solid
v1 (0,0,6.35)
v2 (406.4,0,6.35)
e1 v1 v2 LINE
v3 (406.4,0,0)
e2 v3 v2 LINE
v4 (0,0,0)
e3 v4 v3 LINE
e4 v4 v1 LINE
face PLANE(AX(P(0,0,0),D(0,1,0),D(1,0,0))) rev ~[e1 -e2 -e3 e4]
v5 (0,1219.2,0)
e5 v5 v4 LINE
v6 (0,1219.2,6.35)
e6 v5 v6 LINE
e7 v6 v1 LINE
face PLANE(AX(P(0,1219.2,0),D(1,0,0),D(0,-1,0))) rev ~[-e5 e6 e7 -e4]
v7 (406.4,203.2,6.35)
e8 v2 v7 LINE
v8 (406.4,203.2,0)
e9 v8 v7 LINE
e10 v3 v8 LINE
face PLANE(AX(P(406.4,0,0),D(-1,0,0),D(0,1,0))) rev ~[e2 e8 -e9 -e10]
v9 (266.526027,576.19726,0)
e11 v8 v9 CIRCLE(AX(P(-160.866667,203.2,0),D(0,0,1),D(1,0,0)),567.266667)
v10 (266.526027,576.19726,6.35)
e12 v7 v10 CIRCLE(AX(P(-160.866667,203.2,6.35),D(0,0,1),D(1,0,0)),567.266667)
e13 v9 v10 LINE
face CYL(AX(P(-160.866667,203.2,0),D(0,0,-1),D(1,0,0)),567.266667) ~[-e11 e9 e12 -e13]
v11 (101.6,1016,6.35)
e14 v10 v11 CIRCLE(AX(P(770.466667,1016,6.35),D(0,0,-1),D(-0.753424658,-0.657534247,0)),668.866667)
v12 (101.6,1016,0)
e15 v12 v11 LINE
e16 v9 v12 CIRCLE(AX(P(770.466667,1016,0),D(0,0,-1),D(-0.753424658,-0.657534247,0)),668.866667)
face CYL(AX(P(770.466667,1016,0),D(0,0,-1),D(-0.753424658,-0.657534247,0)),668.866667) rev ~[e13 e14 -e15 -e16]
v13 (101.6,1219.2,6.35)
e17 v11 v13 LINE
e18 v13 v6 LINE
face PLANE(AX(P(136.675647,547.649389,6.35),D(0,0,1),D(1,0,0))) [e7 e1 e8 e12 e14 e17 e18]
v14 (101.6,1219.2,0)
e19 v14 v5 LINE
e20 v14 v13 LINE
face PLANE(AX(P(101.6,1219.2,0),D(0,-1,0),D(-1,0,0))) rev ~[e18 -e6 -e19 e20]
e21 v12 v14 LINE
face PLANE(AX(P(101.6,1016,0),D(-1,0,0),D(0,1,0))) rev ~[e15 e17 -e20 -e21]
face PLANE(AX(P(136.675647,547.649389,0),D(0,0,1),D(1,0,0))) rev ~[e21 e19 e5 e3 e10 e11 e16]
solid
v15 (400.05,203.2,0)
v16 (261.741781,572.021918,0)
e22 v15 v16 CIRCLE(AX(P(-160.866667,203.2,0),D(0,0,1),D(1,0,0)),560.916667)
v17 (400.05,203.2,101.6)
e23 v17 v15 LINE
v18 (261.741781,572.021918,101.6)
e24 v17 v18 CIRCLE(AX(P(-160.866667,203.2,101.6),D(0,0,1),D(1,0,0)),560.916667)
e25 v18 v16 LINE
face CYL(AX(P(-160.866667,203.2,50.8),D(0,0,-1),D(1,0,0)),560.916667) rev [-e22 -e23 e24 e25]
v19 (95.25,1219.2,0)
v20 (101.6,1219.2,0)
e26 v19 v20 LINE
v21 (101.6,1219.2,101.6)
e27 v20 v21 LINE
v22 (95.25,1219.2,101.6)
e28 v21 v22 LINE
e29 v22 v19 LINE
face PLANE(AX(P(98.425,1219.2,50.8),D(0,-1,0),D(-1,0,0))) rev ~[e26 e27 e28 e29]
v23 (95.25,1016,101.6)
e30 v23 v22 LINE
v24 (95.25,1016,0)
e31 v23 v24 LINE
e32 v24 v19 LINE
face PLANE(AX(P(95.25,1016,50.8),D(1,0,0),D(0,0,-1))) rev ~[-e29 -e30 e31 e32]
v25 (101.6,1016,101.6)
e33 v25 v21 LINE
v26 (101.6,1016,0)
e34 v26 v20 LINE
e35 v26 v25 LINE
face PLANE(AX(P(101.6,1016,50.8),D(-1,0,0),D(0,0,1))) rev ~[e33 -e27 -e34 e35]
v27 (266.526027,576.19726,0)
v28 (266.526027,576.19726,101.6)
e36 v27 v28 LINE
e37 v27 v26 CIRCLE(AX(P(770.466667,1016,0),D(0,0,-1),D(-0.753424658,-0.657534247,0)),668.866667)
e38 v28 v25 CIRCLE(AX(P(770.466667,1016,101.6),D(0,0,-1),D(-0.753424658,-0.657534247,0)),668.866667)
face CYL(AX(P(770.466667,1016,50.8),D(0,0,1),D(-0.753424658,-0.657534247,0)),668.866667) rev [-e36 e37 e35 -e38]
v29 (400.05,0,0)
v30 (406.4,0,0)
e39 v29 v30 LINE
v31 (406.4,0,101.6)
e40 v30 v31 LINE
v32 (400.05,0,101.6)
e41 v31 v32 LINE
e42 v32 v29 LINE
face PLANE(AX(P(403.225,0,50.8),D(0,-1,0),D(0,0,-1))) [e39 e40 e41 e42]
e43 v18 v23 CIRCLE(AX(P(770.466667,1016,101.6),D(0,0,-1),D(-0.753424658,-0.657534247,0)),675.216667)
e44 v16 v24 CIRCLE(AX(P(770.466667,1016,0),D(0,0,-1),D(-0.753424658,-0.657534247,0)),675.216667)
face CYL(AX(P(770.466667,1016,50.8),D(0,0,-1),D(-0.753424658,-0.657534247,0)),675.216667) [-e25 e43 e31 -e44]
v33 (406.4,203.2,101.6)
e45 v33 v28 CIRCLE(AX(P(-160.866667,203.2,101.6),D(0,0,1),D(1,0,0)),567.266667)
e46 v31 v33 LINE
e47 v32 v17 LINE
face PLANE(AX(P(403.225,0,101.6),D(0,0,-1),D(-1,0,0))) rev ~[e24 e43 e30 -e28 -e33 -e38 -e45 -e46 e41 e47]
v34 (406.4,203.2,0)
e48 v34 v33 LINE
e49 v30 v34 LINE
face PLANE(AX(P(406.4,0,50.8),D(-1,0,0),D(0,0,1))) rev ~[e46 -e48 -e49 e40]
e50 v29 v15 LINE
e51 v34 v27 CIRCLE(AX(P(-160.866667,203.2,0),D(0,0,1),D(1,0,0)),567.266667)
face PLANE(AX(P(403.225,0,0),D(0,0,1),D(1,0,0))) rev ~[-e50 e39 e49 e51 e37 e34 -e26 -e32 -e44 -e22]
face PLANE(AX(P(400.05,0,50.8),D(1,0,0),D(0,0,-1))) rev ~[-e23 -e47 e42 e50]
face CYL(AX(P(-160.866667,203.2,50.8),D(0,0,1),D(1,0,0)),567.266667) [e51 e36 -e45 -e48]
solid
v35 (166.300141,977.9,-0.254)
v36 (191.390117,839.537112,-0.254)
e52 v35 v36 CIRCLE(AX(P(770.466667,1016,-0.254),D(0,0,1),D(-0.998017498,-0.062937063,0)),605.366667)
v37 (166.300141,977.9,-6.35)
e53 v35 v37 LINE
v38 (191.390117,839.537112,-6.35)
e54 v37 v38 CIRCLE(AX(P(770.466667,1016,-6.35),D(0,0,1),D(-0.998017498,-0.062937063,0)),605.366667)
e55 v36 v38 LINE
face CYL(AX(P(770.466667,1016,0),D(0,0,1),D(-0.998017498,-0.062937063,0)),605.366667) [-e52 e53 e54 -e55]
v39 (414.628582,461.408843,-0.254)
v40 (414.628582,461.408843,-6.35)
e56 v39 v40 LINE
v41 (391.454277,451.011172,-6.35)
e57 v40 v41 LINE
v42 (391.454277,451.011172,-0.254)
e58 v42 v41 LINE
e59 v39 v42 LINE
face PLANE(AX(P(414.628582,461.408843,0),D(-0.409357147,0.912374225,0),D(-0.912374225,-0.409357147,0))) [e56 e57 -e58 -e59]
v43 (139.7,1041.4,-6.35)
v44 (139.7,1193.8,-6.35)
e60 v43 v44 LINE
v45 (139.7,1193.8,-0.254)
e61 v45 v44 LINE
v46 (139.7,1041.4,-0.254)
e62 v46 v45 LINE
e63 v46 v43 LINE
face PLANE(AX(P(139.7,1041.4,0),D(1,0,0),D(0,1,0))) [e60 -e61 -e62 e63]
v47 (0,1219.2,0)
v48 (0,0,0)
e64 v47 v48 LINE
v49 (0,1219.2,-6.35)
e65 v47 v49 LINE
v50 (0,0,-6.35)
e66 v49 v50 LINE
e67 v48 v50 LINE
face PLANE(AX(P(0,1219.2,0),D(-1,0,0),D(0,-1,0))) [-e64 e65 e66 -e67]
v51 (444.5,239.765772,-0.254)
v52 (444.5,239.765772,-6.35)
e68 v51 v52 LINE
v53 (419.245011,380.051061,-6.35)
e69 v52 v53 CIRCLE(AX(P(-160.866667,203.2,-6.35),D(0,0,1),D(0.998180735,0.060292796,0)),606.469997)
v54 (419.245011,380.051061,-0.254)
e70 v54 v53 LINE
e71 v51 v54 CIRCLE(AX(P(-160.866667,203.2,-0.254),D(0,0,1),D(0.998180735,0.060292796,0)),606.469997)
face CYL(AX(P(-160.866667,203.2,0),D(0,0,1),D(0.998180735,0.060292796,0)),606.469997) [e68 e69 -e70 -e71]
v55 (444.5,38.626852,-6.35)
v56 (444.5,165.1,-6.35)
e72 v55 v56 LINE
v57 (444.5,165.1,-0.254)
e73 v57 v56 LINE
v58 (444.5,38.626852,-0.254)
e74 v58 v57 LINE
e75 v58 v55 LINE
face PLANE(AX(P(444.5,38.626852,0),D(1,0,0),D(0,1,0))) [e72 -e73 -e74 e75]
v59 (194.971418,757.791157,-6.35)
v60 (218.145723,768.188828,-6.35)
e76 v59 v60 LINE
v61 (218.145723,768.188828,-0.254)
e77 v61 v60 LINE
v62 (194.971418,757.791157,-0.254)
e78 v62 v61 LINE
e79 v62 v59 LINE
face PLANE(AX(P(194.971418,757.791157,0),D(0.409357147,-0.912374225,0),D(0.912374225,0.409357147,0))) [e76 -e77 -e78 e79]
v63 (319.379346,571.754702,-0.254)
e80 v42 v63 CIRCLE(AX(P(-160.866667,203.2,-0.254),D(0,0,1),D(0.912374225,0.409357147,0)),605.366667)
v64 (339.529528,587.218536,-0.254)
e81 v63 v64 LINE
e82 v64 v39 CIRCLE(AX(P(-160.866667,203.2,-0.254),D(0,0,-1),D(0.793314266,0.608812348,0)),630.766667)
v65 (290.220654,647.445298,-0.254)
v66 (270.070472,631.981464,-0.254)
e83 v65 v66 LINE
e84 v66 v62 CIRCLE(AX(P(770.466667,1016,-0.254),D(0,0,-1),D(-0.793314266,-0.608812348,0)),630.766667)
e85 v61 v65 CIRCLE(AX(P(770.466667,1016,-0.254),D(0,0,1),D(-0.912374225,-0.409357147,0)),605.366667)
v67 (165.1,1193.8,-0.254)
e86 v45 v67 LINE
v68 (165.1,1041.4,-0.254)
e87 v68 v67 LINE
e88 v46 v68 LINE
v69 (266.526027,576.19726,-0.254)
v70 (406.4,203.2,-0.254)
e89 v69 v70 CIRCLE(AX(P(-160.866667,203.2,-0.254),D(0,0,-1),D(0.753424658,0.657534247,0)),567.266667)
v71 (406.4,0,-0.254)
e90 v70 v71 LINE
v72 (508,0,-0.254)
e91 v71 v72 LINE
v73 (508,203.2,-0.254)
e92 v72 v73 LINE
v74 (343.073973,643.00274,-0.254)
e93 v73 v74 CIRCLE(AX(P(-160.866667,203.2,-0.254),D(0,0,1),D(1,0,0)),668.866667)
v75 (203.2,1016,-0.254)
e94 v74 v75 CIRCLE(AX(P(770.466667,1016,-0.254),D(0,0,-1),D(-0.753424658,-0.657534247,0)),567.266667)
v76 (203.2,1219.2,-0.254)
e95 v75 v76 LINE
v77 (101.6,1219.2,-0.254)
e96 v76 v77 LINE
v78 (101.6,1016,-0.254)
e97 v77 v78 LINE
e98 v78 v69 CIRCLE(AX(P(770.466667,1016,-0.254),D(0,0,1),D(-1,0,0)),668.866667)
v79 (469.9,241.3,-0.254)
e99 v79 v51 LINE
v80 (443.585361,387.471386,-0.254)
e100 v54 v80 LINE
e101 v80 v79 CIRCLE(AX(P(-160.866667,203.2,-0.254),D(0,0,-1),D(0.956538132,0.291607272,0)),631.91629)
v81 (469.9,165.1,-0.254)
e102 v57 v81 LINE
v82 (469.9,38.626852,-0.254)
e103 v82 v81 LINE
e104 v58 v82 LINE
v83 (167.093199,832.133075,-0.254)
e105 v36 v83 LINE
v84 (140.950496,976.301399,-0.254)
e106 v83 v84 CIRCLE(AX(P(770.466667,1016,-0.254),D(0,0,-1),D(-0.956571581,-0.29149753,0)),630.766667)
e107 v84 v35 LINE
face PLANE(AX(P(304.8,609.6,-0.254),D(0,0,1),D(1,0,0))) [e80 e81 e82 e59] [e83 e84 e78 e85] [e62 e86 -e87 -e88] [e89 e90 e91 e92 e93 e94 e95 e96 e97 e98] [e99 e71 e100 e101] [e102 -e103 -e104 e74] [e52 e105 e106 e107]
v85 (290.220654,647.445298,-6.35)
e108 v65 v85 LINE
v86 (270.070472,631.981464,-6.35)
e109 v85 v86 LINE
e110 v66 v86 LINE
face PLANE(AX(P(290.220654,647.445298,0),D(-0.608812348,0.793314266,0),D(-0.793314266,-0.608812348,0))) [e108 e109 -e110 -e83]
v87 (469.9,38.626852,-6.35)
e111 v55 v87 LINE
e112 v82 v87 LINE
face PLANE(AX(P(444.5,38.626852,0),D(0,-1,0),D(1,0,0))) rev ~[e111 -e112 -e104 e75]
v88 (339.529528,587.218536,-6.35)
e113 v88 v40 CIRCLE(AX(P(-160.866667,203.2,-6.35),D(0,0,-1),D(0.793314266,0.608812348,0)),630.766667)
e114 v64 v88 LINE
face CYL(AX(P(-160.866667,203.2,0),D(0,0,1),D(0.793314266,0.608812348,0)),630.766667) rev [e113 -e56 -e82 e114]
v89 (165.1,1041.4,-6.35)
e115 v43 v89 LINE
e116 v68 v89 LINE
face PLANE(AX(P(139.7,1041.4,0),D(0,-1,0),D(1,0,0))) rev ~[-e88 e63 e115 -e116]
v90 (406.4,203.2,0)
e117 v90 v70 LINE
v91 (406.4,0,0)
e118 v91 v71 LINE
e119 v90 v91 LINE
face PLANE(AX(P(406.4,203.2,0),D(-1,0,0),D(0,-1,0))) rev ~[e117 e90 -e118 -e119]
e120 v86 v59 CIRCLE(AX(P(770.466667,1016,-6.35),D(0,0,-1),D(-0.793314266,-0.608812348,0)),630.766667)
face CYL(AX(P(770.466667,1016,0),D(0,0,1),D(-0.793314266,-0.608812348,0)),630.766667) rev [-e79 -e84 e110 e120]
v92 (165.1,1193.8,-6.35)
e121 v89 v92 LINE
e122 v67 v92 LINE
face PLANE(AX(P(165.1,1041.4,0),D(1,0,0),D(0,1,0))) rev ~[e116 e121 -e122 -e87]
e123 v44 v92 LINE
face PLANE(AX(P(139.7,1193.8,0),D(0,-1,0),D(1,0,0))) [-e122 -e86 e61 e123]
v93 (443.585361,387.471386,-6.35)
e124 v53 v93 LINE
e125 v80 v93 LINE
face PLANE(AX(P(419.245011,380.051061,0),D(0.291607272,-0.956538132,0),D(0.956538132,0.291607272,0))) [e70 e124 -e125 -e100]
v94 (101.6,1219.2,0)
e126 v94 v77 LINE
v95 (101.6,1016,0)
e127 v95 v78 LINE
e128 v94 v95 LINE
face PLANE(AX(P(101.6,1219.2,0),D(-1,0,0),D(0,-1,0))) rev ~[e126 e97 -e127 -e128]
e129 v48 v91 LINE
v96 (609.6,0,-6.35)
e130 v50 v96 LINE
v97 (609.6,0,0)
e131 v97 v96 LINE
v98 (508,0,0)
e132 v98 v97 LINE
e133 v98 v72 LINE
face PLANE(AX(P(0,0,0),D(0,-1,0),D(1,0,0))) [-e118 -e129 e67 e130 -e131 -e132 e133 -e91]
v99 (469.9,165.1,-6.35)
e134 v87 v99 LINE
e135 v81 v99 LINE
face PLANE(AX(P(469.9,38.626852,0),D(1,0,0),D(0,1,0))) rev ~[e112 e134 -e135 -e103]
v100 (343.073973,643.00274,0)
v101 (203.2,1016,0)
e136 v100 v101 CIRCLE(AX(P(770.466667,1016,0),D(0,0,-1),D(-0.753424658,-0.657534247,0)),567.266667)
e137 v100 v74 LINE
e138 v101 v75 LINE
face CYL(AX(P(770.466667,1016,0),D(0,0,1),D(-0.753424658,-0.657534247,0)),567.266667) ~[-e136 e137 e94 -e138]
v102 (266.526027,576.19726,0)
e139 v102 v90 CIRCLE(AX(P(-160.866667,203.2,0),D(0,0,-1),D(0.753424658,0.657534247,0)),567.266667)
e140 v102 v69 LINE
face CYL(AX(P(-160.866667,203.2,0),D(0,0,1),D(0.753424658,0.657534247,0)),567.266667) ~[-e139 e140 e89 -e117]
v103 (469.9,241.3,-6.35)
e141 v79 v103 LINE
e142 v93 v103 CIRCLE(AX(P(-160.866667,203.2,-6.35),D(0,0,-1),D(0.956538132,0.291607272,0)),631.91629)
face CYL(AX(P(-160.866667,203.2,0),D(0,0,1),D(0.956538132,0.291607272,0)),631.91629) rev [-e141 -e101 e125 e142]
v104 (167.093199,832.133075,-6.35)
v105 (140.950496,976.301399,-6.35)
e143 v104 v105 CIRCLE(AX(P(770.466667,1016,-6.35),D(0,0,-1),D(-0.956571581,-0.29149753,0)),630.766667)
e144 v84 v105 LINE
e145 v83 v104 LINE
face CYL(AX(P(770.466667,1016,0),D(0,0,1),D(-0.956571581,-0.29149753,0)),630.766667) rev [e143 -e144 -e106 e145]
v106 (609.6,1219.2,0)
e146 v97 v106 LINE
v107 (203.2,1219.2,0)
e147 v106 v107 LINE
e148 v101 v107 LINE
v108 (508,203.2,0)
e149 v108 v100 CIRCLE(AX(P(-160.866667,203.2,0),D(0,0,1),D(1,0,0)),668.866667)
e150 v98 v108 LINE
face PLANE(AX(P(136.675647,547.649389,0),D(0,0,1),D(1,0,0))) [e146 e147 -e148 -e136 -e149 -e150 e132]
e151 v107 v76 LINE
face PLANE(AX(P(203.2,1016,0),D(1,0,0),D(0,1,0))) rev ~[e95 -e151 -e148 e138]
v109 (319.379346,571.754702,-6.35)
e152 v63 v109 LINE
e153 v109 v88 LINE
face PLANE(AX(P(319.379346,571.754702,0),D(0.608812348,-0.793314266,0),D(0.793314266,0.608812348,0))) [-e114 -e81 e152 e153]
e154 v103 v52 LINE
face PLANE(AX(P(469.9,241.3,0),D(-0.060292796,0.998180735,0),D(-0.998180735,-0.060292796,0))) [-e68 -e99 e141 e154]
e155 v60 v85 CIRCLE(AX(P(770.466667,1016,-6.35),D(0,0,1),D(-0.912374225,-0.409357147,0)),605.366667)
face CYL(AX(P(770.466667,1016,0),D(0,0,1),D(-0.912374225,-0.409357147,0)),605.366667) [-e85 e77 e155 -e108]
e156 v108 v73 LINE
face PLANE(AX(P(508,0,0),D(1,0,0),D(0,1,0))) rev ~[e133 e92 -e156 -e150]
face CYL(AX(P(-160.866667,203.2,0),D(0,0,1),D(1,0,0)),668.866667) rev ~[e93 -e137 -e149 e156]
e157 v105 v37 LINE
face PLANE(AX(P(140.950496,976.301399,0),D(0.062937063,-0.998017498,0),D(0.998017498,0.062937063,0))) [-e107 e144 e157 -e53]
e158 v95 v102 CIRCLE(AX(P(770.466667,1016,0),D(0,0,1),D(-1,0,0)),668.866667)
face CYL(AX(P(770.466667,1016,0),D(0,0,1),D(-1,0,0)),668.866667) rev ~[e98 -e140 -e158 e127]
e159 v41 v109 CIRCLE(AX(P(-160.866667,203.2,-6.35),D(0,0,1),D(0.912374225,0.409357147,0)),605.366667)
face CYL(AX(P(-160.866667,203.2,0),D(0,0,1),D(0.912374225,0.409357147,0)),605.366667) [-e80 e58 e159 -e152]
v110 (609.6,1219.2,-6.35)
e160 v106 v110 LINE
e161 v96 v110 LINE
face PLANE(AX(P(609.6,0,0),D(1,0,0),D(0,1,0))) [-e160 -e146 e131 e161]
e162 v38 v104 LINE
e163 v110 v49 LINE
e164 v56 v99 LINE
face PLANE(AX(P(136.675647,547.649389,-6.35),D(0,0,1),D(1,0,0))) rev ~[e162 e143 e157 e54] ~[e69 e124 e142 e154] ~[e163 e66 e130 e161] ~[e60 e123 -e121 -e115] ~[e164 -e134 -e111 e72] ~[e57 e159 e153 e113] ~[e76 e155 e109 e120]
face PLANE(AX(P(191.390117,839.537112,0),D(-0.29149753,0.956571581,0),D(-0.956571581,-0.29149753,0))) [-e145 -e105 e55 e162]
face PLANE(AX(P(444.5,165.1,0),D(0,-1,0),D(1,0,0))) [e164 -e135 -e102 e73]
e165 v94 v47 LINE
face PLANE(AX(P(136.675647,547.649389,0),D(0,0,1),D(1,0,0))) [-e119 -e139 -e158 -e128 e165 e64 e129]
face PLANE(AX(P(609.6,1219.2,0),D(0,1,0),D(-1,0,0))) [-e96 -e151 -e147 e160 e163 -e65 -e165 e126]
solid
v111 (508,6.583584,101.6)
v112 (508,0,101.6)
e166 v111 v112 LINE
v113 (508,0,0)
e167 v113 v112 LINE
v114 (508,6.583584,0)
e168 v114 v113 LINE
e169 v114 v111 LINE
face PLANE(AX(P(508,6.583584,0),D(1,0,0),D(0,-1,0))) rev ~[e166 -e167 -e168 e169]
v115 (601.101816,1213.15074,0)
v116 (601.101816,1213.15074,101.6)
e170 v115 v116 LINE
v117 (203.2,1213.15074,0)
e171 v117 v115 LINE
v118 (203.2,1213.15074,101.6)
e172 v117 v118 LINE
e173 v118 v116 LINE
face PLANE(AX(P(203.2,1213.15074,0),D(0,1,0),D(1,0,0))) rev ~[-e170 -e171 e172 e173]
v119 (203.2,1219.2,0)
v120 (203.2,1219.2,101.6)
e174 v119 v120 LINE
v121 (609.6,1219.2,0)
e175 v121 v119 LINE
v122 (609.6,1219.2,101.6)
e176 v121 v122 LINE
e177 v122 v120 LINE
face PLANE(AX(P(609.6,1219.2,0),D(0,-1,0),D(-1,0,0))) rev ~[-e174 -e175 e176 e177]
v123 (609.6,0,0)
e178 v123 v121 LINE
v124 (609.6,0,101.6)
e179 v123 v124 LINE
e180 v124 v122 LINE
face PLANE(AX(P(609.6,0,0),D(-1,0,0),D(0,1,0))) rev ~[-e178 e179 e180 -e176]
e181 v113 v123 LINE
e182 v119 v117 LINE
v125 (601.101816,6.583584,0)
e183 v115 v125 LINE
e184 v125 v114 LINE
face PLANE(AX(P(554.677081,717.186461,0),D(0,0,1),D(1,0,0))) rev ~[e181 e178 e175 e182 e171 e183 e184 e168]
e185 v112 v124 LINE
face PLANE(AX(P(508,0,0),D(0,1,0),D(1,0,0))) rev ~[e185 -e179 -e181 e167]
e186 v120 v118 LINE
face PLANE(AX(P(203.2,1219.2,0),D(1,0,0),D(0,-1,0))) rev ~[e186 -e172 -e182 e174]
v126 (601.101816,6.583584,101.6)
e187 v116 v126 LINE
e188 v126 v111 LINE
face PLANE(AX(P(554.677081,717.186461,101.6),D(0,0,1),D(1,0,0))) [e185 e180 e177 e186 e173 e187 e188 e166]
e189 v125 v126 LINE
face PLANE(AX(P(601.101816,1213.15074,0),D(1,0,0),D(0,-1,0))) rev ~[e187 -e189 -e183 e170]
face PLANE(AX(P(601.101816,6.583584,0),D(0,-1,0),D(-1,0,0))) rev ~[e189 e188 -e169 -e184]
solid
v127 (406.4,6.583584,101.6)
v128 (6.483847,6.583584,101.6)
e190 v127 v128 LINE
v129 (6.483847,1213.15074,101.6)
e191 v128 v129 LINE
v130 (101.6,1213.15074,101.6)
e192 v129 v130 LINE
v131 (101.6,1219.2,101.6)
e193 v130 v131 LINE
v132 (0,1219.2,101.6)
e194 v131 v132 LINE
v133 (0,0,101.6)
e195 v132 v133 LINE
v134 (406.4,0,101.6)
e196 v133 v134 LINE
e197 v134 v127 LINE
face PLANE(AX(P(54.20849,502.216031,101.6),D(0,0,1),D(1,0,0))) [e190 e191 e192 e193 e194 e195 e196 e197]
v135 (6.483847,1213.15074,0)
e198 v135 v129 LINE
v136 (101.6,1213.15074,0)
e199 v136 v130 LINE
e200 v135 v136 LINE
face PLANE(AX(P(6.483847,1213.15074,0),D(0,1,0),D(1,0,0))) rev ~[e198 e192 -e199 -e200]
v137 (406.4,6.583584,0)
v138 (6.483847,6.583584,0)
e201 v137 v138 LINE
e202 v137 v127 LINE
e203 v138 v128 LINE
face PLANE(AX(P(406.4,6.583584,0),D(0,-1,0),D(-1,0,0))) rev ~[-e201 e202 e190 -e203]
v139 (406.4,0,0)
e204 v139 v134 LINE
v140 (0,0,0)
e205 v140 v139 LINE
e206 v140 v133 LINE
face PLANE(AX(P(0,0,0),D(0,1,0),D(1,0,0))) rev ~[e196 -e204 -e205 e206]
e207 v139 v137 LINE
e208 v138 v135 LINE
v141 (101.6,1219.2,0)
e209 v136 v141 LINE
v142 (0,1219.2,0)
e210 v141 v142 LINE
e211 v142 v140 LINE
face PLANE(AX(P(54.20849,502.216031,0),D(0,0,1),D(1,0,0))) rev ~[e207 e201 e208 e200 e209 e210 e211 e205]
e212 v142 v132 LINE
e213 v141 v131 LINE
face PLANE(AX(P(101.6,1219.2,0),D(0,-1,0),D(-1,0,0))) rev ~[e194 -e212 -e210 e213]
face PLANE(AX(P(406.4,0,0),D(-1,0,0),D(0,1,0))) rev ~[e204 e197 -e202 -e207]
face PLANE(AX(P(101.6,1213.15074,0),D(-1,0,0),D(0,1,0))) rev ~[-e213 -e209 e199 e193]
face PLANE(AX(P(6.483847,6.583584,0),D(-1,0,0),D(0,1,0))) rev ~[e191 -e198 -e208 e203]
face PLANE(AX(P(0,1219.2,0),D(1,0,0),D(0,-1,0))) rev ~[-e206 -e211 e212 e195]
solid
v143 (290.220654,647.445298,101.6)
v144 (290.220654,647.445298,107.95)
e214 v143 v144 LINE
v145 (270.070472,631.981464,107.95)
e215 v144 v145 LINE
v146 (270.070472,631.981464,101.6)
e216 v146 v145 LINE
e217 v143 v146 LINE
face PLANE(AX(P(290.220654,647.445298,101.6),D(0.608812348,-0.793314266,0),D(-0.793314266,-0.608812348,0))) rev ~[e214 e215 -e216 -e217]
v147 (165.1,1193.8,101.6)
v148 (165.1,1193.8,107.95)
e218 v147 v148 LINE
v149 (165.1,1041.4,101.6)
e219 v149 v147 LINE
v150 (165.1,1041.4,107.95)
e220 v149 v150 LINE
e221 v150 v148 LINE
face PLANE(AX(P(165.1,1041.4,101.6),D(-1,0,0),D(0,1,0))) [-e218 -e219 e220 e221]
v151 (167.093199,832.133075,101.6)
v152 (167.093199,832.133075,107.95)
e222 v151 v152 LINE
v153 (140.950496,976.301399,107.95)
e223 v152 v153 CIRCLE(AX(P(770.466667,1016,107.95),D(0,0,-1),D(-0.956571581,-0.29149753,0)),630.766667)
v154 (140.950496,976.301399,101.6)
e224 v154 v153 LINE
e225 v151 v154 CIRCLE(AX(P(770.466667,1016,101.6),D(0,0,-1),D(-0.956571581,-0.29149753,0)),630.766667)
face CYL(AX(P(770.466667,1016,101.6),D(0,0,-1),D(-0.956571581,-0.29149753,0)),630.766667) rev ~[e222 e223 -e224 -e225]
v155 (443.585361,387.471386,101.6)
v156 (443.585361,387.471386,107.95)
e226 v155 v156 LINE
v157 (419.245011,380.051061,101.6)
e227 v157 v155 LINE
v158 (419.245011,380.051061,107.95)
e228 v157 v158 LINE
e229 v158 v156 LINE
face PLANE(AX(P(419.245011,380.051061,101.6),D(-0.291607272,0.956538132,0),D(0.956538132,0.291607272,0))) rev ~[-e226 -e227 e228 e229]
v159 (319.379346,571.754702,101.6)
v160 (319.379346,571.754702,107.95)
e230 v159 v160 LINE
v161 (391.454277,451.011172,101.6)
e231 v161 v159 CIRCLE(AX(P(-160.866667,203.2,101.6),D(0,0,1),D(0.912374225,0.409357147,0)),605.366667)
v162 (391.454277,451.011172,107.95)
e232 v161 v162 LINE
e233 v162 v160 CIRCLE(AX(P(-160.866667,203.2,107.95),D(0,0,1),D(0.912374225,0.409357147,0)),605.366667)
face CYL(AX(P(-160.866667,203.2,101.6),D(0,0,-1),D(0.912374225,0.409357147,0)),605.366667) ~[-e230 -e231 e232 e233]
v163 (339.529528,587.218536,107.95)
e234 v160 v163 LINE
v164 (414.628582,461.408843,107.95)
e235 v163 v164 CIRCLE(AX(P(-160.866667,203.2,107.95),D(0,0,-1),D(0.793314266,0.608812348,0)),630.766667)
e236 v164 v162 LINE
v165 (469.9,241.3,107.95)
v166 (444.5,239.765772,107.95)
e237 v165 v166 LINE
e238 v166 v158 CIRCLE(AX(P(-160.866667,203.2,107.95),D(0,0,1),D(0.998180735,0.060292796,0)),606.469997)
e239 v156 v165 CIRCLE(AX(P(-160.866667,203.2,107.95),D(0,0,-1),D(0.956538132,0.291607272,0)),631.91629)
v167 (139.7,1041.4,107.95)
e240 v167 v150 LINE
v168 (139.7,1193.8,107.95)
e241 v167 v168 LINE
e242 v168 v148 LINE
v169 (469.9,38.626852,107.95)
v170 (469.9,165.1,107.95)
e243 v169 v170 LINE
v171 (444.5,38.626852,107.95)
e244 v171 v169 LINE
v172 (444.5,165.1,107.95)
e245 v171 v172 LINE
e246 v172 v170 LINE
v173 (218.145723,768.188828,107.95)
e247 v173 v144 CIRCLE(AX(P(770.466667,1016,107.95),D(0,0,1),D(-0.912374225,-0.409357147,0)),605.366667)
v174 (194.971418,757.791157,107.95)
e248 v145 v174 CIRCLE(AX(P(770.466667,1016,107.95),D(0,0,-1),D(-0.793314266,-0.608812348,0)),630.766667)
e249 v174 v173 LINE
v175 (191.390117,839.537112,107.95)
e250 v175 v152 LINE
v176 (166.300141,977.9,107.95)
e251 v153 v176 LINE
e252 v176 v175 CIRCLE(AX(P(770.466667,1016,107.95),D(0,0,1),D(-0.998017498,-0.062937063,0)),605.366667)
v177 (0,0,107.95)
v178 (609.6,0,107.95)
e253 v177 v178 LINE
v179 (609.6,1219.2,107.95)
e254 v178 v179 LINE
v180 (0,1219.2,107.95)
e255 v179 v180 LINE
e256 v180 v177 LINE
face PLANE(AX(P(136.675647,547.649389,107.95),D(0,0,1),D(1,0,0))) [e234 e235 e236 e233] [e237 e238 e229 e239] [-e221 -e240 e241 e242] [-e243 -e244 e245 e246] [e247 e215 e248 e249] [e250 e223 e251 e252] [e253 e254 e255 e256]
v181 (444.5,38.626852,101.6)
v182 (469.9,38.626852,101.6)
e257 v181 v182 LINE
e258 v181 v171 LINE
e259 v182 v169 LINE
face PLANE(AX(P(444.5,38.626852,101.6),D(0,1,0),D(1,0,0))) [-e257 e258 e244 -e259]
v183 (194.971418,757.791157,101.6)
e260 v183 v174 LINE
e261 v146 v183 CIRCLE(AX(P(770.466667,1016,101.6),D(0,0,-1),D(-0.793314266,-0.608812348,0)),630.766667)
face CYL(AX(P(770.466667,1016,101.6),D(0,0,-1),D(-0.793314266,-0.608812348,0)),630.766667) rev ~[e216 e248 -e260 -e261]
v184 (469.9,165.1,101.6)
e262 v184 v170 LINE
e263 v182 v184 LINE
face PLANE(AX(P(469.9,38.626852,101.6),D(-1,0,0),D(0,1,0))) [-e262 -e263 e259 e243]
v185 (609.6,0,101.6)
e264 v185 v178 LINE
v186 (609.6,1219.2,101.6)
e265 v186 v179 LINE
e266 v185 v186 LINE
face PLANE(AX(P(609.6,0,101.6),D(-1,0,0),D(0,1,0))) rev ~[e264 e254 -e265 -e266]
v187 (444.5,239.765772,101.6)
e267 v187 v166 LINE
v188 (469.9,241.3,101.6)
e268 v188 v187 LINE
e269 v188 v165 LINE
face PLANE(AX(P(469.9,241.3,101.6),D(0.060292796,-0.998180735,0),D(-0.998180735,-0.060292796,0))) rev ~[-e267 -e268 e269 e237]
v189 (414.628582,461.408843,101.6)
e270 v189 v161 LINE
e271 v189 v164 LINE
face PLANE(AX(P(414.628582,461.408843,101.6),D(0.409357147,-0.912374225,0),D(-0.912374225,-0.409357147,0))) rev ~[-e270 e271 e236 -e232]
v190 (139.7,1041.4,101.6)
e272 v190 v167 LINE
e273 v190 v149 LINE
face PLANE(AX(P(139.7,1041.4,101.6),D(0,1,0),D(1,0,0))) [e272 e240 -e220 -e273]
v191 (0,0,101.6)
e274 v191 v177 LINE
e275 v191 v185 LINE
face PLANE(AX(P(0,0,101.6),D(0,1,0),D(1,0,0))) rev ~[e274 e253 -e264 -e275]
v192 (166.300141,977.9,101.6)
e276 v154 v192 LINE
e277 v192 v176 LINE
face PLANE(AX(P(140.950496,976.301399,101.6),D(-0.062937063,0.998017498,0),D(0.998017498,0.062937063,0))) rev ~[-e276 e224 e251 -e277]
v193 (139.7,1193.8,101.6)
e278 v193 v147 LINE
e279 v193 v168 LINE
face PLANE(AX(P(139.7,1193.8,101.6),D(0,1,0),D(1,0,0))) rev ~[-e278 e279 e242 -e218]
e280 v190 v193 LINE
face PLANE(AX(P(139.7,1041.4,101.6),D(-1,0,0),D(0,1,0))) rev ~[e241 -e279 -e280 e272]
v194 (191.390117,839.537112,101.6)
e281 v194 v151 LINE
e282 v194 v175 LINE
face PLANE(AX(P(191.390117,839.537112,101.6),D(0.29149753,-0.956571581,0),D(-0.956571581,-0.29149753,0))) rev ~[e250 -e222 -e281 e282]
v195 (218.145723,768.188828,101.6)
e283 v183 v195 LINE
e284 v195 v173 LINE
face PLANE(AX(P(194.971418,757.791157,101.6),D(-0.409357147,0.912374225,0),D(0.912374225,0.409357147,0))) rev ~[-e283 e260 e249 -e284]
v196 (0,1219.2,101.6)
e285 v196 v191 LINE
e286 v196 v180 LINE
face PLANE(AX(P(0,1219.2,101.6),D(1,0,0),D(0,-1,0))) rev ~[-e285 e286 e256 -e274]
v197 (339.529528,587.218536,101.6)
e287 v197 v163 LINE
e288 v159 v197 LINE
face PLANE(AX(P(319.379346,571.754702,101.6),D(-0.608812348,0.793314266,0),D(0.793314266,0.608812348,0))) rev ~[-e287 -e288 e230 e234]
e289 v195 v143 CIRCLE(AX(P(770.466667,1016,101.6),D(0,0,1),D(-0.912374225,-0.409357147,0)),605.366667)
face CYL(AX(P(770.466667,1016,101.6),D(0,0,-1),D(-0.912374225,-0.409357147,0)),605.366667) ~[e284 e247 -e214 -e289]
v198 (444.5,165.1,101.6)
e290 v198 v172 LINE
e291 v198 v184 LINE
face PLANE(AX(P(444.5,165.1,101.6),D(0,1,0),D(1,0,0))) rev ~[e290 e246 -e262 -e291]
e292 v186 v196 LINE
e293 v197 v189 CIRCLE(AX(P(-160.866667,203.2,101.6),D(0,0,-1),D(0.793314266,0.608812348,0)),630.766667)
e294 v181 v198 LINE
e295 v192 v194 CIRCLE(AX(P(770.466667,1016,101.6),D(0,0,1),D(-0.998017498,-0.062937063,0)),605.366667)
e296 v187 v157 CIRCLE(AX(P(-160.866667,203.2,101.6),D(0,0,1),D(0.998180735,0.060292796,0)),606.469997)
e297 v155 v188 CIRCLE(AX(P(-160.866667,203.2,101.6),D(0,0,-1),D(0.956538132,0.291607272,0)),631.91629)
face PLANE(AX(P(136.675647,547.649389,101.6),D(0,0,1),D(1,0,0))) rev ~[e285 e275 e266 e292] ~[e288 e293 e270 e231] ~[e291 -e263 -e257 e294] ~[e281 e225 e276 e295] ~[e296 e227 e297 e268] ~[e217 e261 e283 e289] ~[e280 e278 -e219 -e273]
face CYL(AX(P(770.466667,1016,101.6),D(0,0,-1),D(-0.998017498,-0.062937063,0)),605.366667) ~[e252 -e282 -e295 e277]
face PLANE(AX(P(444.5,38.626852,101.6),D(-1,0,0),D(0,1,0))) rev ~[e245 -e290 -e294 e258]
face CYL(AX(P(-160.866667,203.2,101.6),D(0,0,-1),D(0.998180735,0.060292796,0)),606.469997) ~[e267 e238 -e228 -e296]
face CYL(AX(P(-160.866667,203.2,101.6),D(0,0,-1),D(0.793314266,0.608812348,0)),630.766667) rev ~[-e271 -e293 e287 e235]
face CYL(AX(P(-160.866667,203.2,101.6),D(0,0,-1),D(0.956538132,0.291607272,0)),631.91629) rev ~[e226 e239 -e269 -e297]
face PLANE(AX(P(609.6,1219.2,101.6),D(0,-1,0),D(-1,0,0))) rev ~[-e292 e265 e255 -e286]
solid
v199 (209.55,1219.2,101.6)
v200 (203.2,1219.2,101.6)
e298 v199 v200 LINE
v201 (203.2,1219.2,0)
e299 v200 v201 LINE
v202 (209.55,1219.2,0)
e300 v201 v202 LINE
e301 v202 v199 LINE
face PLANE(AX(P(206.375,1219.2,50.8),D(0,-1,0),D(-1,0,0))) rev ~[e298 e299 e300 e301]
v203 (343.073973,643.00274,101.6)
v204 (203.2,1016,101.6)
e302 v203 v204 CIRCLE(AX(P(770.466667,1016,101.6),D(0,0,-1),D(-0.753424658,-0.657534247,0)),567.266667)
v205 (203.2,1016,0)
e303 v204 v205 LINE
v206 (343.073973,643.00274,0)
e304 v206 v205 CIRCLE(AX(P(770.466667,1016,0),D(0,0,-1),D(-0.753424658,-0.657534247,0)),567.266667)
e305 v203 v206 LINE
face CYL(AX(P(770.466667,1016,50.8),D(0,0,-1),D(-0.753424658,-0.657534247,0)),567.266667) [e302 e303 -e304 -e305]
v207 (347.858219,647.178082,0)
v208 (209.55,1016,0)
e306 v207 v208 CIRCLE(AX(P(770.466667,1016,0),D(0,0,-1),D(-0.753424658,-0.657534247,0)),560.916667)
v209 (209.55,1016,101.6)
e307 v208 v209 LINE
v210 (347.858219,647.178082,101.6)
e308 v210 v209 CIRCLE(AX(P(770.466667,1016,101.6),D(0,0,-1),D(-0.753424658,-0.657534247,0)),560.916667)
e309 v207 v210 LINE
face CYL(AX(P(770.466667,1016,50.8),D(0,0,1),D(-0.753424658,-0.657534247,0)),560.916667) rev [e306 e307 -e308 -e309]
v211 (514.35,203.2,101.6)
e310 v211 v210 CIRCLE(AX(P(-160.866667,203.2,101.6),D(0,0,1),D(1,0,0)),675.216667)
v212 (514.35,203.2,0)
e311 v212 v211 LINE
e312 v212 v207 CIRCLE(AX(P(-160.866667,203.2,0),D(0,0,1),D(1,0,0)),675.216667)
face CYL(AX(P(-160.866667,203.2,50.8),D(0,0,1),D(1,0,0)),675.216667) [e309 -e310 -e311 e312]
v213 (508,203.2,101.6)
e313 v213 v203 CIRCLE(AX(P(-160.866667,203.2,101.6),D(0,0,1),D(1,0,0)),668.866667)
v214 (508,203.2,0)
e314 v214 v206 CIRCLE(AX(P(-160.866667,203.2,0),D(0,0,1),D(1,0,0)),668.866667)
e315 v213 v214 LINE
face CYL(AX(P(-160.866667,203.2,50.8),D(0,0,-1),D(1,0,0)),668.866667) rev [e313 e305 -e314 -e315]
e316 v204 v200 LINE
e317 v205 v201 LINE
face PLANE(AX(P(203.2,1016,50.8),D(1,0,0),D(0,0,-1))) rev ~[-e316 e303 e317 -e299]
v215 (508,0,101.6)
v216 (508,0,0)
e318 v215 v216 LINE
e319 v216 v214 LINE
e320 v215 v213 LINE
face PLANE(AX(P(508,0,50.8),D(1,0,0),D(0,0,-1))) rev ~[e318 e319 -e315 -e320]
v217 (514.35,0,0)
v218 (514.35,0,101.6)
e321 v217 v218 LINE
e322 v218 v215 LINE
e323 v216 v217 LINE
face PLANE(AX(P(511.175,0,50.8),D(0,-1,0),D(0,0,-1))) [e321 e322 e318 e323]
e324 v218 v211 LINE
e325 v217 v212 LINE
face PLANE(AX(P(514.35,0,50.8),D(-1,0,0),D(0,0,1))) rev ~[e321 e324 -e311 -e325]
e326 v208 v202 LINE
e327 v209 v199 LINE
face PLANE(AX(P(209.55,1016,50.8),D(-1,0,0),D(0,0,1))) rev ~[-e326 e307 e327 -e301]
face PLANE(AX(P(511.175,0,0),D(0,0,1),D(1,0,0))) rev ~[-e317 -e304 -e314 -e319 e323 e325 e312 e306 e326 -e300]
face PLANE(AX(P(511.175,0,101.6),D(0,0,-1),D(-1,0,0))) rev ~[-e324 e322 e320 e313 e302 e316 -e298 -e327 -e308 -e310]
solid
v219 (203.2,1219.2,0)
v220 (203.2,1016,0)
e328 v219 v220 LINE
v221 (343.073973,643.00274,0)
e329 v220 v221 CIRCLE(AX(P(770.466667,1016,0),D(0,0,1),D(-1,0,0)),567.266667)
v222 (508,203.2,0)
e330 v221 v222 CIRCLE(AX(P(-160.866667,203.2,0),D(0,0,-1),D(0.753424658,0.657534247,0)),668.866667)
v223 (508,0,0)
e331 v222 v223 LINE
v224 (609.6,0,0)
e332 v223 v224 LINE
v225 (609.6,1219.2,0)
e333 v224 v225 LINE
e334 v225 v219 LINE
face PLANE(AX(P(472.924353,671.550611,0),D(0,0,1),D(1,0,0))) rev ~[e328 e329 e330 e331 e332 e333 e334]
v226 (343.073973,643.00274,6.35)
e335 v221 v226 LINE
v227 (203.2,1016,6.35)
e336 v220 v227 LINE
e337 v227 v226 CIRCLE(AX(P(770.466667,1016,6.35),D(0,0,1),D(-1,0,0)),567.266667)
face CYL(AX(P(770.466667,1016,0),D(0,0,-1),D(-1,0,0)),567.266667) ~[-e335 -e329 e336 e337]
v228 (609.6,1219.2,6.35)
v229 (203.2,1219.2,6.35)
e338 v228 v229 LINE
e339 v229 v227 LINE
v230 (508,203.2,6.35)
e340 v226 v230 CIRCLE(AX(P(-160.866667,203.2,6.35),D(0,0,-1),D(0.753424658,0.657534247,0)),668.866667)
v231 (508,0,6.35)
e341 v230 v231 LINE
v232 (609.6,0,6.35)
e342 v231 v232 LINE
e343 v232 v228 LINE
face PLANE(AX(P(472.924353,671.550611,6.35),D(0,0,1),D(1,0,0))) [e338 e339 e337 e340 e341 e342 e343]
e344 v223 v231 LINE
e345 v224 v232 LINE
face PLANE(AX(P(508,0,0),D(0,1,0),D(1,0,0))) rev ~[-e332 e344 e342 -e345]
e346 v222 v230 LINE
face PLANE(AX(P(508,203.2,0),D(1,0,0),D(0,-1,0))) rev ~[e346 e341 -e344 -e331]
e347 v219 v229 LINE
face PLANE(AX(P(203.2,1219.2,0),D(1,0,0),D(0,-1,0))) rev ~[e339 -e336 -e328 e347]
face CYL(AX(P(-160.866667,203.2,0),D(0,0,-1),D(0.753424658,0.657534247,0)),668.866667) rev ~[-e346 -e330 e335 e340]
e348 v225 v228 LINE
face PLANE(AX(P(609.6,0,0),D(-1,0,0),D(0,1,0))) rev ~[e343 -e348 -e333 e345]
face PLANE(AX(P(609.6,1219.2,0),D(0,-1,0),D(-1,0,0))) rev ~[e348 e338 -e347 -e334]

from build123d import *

# Parameters (mm, degrees)
F0_W      = 25.4
F0_H      = 126.473148486
F0_H_2    = 152.4
F1_DEPTH  = 6.35
F2_W      = 6.35
F2_H      = 101.6
F2_W_2    = 101.6
F2_R      = 44.45
F5_DEPTH  = 6.35
F6_DEPTH  = 6.35
F7_DEPTH  = 0.254
F9_DEPTH  = 101.6
F11_START = 101.6
F11_DEPTH = 6.35


with BuildPart() as f1:
    # F0 (on Top) → F1 (new body)
    with BuildSketch(Plane.XY):
        with BuildLine():
            Line((0, 1219.2), (0, 0))
            Line((0, 0), (406.4, 0))
            Line((406.4, 0), (406.4, 203.2))
            ThreePointArc((406.4, 203.2), (370.2816647957, 402.3806242984), (266.5260273973, 576.197260274))
            ThreePointArc((266.5260273973, 576.197260274), (144.1872907633, 781.1452340362), (101.6, 1016))
            Line((101.6, 1016), (101.6, 1219.2))
            Line((101.6, 1219.2), (0, 1219.2))
        make_face()
        with BuildLine():
            Line((406.4, 203.2), (406.4, 0))
            Line((406.4, 0), (508, 0))
            Line((508, 0), (508, 203.2))
            ThreePointArc((508, 203.2), (465.4127092367, 438.0547659638), (343.0739726027, 643.002739726))
            ThreePointArc((343.0739726027, 643.002739726), (239.3183352043, 816.8193757016), (203.2, 1016))
            Line((203.2, 1016), (203.2, 1219.2))
            Line((203.2, 1219.2), (101.6, 1219.2))
            Line((101.6, 1219.2), (101.6, 1016))
            ThreePointArc((101.6, 1016), (144.1872907633, 781.1452340362), (266.5260273973, 576.197260274))
            ThreePointArc((266.5260273973, 576.197260274), (370.2816647957, 402.3806242984), (406.4, 203.2))
        make_face()
        with Locations((457.2, 101.863425757)):
            Rectangle(F0_W, F0_H, mode=Mode.SUBTRACT)
        with BuildLine():
            Line((469.9, 241.3), (444.5, 239.7657718121))
            ThreePointArc((444.5, 239.7657718121), (436.0082925939, 310.6529654643), (419.2450112594, 380.0510613852))
            Line((419.2450112594, 380.0510613852), (443.5853613822, 387.4713856391))
            ThreePointArc((443.5853613822, 387.4713856391), (461.0519971782, 315.1614814977), (469.9, 241.3))
        make_face(mode=Mode.SUBTRACT)
        with BuildLine():
            Line((319.3793460557, 571.7547020123), (339.5295284077, 587.2185356631))
            ThreePointArc((339.5295284077, 587.2185356631), (380.7444662625, 526.5016678969), (414.6285819031, 461.4088430929))
            Line((414.6285819031, 461.4088430929), (391.4542765916, 451.0111715589))
            ThreePointArc((391.4542765916, 451.0111715589), (358.9346219835, 513.482808787), (319.3793460557, 571.7547020123))
        make_face(mode=Mode.SUBTRACT)
        with BuildLine():
            ThreePointArc((218.1457234084, 768.1888284411), (250.6653780165, 705.717191213), (290.2206539443, 647.4452979877))
            Line((290.2206539443, 647.4452979877), (270.0704715923, 631.9814643369))
            ThreePointArc((270.0704715923, 631.9814643369), (228.8555337375, 692.6983321031), (194.9714180969, 757.7911569071))
            Line((194.9714180969, 757.7911569071), (218.1457234084, 768.1888284411))
        make_face(mode=Mode.SUBTRACT)
        with BuildLine():
            ThreePointArc((166.3001406897, 977.9), (174.8139858785, 907.9875702476), (191.3901171594, 839.5371117718))
            Line((191.3901171594, 839.5371117718), (167.0931989982, 832.1330745035))
            ThreePointArc((167.0931989982, 832.1330745035), (149.8215657056, 903.4555801881), (140.9504962431, 976.3013986014))
            Line((140.9504962431, 976.3013986014), (166.3001406897, 977.9))
        make_face(mode=Mode.SUBTRACT)
        with Locations((152.4, 1117.6)):
            Rectangle(F0_W, F0_H_2, mode=Mode.SUBTRACT)
        with BuildLine():
            Line((508, 203.2), (508, 0))
            Line((508, 0), (609.6, 0))
            Line((609.6, 0), (609.6, 1219.2))
            Line((609.6, 1219.2), (203.2, 1219.2))
            Line((203.2, 1219.2), (203.2, 1016))
            ThreePointArc((203.2, 1016), (239.3183352043, 816.8193757016), (343.0739726027, 643.002739726))
            ThreePointArc((343.0739726027, 643.002739726), (465.4127092367, 438.0547659638), (508, 203.2))
        make_face()
    extrude(amount=-F1_DEPTH)

    # F0 (on Top) → F7 (cut)
    with BuildSketch(Plane.XY):
        with BuildLine():
            Line((406.4, 203.2), (406.4, 0))
            Line((406.4, 0), (508, 0))
            Line((508, 0), (508, 203.2))
            ThreePointArc((508, 203.2), (465.4127092367, 438.0547659638), (343.0739726027, 643.002739726))
            ThreePointArc((343.0739726027, 643.002739726), (239.3183352043, 816.8193757016), (203.2, 1016))
            Line((203.2, 1016), (203.2, 1219.2))
            Line((203.2, 1219.2), (101.6, 1219.2))
            Line((101.6, 1219.2), (101.6, 1016))
            ThreePointArc((101.6, 1016), (144.1872907633, 781.1452340362), (266.5260273973, 576.197260274))
            ThreePointArc((266.5260273973, 576.197260274), (370.2816647957, 402.3806242984), (406.4, 203.2))
        make_face()
        with Locations((457.2, 101.863425757)):
            Rectangle(F0_W, F0_H, mode=Mode.SUBTRACT)
        with BuildLine():
            Line((469.9, 241.3), (444.5, 239.7657718121))
            ThreePointArc((444.5, 239.7657718121), (436.0082925939, 310.6529654643), (419.2450112594, 380.0510613852))
            Line((419.2450112594, 380.0510613852), (443.5853613822, 387.4713856391))
            ThreePointArc((443.5853613822, 387.4713856391), (461.0519971782, 315.1614814977), (469.9, 241.3))
        make_face(mode=Mode.SUBTRACT)
        with BuildLine():
            Line((319.3793460557, 571.7547020123), (339.5295284077, 587.2185356631))
            ThreePointArc((339.5295284077, 587.2185356631), (380.7444662625, 526.5016678969), (414.6285819031, 461.4088430929))
            Line((414.6285819031, 461.4088430929), (391.4542765916, 451.0111715589))
            ThreePointArc((391.4542765916, 451.0111715589), (358.9346219835, 513.482808787), (319.3793460557, 571.7547020123))
        make_face(mode=Mode.SUBTRACT)
        with BuildLine():
            ThreePointArc((218.1457234084, 768.1888284411), (250.6653780165, 705.717191213), (290.2206539443, 647.4452979877))
            Line((290.2206539443, 647.4452979877), (270.0704715923, 631.9814643369))
            ThreePointArc((270.0704715923, 631.9814643369), (228.8555337375, 692.6983321031), (194.9714180969, 757.7911569071))
            Line((194.9714180969, 757.7911569071), (218.1457234084, 768.1888284411))
        make_face(mode=Mode.SUBTRACT)
        with BuildLine():
            ThreePointArc((166.3001406897, 977.9), (174.8139858785, 907.9875702476), (191.3901171594, 839.5371117718))
            Line((191.3901171594, 839.5371117718), (167.0931989982, 832.1330745035))
            ThreePointArc((167.0931989982, 832.1330745035), (149.8215657056, 903.4555801881), (140.9504962431, 976.3013986014))
            Line((140.9504962431, 976.3013986014), (166.3001406897, 977.9))
        make_face(mode=Mode.SUBTRACT)
        with Locations((152.4, 1117.6)):
            Rectangle(F0_W, F0_H_2, mode=Mode.SUBTRACT)
    extrude(amount=-F7_DEPTH, mode=Mode.SUBTRACT)


with BuildPart() as f3:
    # F3: sweep along a path in F0
    with BuildLine(Plane.XY) as f3_path:
        Line((406.4, 0), (406.4, 203.2))
        ThreePointArc((406.4, 203.2), (370.2816647957, 402.3806242984), (266.5260273973, 576.197260274))
        ThreePointArc((266.5260273973, 576.197260274), (144.1872907633, 781.1452340362), (101.6, 1016))
        Line((101.6, 1016), (101.6, 1219.2))
    # F2 (on face) → F3 (sweep)
    with BuildSketch(Plane.XZ):
        with Locations((403.225, 50.8)):
            Rectangle(F2_W, F2_H)
    sweep(path=f3_path.line)


with BuildPart() as f4:
    # F4: sweep along a path in F0
    with BuildLine(Plane.XY) as f4_path:
        Line((508, 0), (508, 203.2))
        ThreePointArc((508, 203.2), (465.4127092367, 438.0547659638), (343.0739726027, 643.002739726))
        ThreePointArc((343.0739726027, 643.002739726), (239.3183352043, 816.8193757016), (203.2, 1016))
        Line((203.2, 1016), (203.2, 1219.2))
    # F2 (on face) → F4 (sweep)
    with BuildSketch(Plane.XZ):
        with Locations((511.175, 50.8)):
            Rectangle(F2_W, F2_H)
    sweep(path=f4_path.line)


with BuildPart() as f5:
    # F2 (on face) → F5 (new body)
    with BuildSketch(Plane.XZ):
        with Locations((457.2, 50.8)):
            Rectangle(F2_W_2, F2_H)
        with Locations((457.2, 50.8)):
            Circle(F2_R, mode=Mode.SUBTRACT)
    extrude(amount=F5_DEPTH)


with BuildPart() as f6:
    # F0 (on Top) → F6 (new body)
    with BuildSketch(Plane.XY):
        with BuildLine():
            Line((0, 1219.2), (0, 0))
            Line((0, 0), (406.4, 0))
            Line((406.4, 0), (406.4, 203.2))
            ThreePointArc((406.4, 203.2), (370.2816647957, 402.3806242984), (266.5260273973, 576.197260274))
            ThreePointArc((266.5260273973, 576.197260274), (144.1872907633, 781.1452340362), (101.6, 1016))
            Line((101.6, 1016), (101.6, 1219.2))
            Line((101.6, 1219.2), (0, 1219.2))
        make_face()
    extrude(amount=F6_DEPTH)


with BuildPart() as f6b:
    # F0 (on Top) → F6, piece 2 (new body)
    with BuildSketch(Plane.XY):
        with BuildLine():
            Line((508, 203.2), (508, 0))
            Line((508, 0), (609.6, 0))
            Line((609.6, 0), (609.6, 1219.2))
            Line((609.6, 1219.2), (203.2, 1219.2))
            Line((203.2, 1219.2), (203.2, 1016))
            ThreePointArc((203.2, 1016), (239.3183352043, 816.8193757016), (343.0739726027, 643.002739726))
            ThreePointArc((343.0739726027, 643.002739726), (465.4127092367, 438.0547659638), (508, 203.2))
        make_face()
    extrude(amount=F6_DEPTH)


with BuildPart() as f9:
    # F8 (on face) → F9 (new body)
    with BuildSketch(Plane.XY):
        Polygon((101.6, 1219.2), (0, 1219.2), (0, 0), (406.4, 0), (406.4, 6.5835835412), (6.4838468097, 6.5835835412), (6.4838468097, 1213.1507396698), (101.6, 1213.1507396698), align=None)
    extrude(amount=F9_DEPTH)


with BuildPart() as f9b:
    # F8 (on face) → F9, piece 2 (new body)
    with BuildSketch(Plane.XY):
        Polygon((508, 6.5835835412), (508, 0), (609.6, 0), (609.6, 1219.2), (203.2, 1219.2), (203.2, 1213.1507396698), (601.1018157005, 1213.1507396698), (601.1018157005, 6.5835835412), align=None)
    extrude(amount=F9_DEPTH)


with BuildPart() as f11:
    # F0 (on Top) → F11 (new body)
    with BuildSketch(Plane.XY.offset(F11_START)):
        with BuildLine():
            Line((0, 1219.2), (0, 0))
            Line((0, 0), (406.4, 0))
            Line((406.4, 0), (406.4, 203.2))
            ThreePointArc((406.4, 203.2), (370.2816647957, 402.3806242984), (266.5260273973, 576.197260274))
            ThreePointArc((266.5260273973, 576.197260274), (144.1872907633, 781.1452340362), (101.6, 1016))
            Line((101.6, 1016), (101.6, 1219.2))
            Line((101.6, 1219.2), (0, 1219.2))
        make_face()
        with BuildLine():
            Line((406.4, 203.2), (406.4, 0))
            Line((406.4, 0), (508, 0))
            Line((508, 0), (508, 203.2))
            ThreePointArc((508, 203.2), (465.4127092367, 438.0547659638), (343.0739726027, 643.002739726))
            ThreePointArc((343.0739726027, 643.002739726), (239.3183352043, 816.8193757016), (203.2, 1016))
            Line((203.2, 1016), (203.2, 1219.2))
            Line((203.2, 1219.2), (101.6, 1219.2))
            Line((101.6, 1219.2), (101.6, 1016))
            ThreePointArc((101.6, 1016), (144.1872907633, 781.1452340362), (266.5260273973, 576.197260274))
            ThreePointArc((266.5260273973, 576.197260274), (370.2816647957, 402.3806242984), (406.4, 203.2))
        make_face()
        with Locations((457.2, 101.863425757)):
            Rectangle(F0_W, F0_H, mode=Mode.SUBTRACT)
        with BuildLine():
            Line((469.9, 241.3), (444.5, 239.7657718121))
            ThreePointArc((444.5, 239.7657718121), (436.0082925939, 310.6529654643), (419.2450112594, 380.0510613852))
            Line((419.2450112594, 380.0510613852), (443.5853613822, 387.4713856391))
            ThreePointArc((443.5853613822, 387.4713856391), (461.0519971782, 315.1614814977), (469.9, 241.3))
        make_face(mode=Mode.SUBTRACT)
        with BuildLine():
            Line((319.3793460557, 571.7547020123), (339.5295284077, 587.2185356631))
            ThreePointArc((339.5295284077, 587.2185356631), (380.7444662625, 526.5016678969), (414.6285819031, 461.4088430929))
            Line((414.6285819031, 461.4088430929), (391.4542765916, 451.0111715589))
            ThreePointArc((391.4542765916, 451.0111715589), (358.9346219835, 513.482808787), (319.3793460557, 571.7547020123))
        make_face(mode=Mode.SUBTRACT)
        with BuildLine():
            ThreePointArc((218.1457234084, 768.1888284411), (250.6653780165, 705.717191213), (290.2206539443, 647.4452979877))
            Line((290.2206539443, 647.4452979877), (270.0704715923, 631.9814643369))
            ThreePointArc((270.0704715923, 631.9814643369), (228.8555337375, 692.6983321031), (194.9714180969, 757.7911569071))
            Line((194.9714180969, 757.7911569071), (218.1457234084, 768.1888284411))
        make_face(mode=Mode.SUBTRACT)
        with BuildLine():
            ThreePointArc((166.3001406897, 977.9), (174.8139858785, 907.9875702476), (191.3901171594, 839.5371117718))
            Line((191.3901171594, 839.5371117718), (167.0931989982, 832.1330745035))
            ThreePointArc((167.0931989982, 832.1330745035), (149.8215657056, 903.4555801881), (140.9504962431, 976.3013986014))
            Line((140.9504962431, 976.3013986014), (166.3001406897, 977.9))
        make_face(mode=Mode.SUBTRACT)
        with Locations((152.4, 1117.6)):
            Rectangle(F0_W, F0_H_2, mode=Mode.SUBTRACT)
        with BuildLine():
            Line((508, 203.2), (508, 0))
            Line((508, 0), (609.6, 0))
            Line((609.6, 0), (609.6, 1219.2))
            Line((609.6, 1219.2), (203.2, 1219.2))
            Line((203.2, 1219.2), (203.2, 1016))
            ThreePointArc((203.2, 1016), (239.3183352043, 816.8193757016), (343.0739726027, 643.002739726))
            ThreePointArc((343.0739726027, 643.002739726), (465.4127092367, 438.0547659638), (508, 203.2))
        make_face()
    extrude(amount=F11_DEPTH)


solid = Compound([f1.part, f3.part, f4.part, f6.part, f6b.part, f9.part, f9b.part, f11.part])
